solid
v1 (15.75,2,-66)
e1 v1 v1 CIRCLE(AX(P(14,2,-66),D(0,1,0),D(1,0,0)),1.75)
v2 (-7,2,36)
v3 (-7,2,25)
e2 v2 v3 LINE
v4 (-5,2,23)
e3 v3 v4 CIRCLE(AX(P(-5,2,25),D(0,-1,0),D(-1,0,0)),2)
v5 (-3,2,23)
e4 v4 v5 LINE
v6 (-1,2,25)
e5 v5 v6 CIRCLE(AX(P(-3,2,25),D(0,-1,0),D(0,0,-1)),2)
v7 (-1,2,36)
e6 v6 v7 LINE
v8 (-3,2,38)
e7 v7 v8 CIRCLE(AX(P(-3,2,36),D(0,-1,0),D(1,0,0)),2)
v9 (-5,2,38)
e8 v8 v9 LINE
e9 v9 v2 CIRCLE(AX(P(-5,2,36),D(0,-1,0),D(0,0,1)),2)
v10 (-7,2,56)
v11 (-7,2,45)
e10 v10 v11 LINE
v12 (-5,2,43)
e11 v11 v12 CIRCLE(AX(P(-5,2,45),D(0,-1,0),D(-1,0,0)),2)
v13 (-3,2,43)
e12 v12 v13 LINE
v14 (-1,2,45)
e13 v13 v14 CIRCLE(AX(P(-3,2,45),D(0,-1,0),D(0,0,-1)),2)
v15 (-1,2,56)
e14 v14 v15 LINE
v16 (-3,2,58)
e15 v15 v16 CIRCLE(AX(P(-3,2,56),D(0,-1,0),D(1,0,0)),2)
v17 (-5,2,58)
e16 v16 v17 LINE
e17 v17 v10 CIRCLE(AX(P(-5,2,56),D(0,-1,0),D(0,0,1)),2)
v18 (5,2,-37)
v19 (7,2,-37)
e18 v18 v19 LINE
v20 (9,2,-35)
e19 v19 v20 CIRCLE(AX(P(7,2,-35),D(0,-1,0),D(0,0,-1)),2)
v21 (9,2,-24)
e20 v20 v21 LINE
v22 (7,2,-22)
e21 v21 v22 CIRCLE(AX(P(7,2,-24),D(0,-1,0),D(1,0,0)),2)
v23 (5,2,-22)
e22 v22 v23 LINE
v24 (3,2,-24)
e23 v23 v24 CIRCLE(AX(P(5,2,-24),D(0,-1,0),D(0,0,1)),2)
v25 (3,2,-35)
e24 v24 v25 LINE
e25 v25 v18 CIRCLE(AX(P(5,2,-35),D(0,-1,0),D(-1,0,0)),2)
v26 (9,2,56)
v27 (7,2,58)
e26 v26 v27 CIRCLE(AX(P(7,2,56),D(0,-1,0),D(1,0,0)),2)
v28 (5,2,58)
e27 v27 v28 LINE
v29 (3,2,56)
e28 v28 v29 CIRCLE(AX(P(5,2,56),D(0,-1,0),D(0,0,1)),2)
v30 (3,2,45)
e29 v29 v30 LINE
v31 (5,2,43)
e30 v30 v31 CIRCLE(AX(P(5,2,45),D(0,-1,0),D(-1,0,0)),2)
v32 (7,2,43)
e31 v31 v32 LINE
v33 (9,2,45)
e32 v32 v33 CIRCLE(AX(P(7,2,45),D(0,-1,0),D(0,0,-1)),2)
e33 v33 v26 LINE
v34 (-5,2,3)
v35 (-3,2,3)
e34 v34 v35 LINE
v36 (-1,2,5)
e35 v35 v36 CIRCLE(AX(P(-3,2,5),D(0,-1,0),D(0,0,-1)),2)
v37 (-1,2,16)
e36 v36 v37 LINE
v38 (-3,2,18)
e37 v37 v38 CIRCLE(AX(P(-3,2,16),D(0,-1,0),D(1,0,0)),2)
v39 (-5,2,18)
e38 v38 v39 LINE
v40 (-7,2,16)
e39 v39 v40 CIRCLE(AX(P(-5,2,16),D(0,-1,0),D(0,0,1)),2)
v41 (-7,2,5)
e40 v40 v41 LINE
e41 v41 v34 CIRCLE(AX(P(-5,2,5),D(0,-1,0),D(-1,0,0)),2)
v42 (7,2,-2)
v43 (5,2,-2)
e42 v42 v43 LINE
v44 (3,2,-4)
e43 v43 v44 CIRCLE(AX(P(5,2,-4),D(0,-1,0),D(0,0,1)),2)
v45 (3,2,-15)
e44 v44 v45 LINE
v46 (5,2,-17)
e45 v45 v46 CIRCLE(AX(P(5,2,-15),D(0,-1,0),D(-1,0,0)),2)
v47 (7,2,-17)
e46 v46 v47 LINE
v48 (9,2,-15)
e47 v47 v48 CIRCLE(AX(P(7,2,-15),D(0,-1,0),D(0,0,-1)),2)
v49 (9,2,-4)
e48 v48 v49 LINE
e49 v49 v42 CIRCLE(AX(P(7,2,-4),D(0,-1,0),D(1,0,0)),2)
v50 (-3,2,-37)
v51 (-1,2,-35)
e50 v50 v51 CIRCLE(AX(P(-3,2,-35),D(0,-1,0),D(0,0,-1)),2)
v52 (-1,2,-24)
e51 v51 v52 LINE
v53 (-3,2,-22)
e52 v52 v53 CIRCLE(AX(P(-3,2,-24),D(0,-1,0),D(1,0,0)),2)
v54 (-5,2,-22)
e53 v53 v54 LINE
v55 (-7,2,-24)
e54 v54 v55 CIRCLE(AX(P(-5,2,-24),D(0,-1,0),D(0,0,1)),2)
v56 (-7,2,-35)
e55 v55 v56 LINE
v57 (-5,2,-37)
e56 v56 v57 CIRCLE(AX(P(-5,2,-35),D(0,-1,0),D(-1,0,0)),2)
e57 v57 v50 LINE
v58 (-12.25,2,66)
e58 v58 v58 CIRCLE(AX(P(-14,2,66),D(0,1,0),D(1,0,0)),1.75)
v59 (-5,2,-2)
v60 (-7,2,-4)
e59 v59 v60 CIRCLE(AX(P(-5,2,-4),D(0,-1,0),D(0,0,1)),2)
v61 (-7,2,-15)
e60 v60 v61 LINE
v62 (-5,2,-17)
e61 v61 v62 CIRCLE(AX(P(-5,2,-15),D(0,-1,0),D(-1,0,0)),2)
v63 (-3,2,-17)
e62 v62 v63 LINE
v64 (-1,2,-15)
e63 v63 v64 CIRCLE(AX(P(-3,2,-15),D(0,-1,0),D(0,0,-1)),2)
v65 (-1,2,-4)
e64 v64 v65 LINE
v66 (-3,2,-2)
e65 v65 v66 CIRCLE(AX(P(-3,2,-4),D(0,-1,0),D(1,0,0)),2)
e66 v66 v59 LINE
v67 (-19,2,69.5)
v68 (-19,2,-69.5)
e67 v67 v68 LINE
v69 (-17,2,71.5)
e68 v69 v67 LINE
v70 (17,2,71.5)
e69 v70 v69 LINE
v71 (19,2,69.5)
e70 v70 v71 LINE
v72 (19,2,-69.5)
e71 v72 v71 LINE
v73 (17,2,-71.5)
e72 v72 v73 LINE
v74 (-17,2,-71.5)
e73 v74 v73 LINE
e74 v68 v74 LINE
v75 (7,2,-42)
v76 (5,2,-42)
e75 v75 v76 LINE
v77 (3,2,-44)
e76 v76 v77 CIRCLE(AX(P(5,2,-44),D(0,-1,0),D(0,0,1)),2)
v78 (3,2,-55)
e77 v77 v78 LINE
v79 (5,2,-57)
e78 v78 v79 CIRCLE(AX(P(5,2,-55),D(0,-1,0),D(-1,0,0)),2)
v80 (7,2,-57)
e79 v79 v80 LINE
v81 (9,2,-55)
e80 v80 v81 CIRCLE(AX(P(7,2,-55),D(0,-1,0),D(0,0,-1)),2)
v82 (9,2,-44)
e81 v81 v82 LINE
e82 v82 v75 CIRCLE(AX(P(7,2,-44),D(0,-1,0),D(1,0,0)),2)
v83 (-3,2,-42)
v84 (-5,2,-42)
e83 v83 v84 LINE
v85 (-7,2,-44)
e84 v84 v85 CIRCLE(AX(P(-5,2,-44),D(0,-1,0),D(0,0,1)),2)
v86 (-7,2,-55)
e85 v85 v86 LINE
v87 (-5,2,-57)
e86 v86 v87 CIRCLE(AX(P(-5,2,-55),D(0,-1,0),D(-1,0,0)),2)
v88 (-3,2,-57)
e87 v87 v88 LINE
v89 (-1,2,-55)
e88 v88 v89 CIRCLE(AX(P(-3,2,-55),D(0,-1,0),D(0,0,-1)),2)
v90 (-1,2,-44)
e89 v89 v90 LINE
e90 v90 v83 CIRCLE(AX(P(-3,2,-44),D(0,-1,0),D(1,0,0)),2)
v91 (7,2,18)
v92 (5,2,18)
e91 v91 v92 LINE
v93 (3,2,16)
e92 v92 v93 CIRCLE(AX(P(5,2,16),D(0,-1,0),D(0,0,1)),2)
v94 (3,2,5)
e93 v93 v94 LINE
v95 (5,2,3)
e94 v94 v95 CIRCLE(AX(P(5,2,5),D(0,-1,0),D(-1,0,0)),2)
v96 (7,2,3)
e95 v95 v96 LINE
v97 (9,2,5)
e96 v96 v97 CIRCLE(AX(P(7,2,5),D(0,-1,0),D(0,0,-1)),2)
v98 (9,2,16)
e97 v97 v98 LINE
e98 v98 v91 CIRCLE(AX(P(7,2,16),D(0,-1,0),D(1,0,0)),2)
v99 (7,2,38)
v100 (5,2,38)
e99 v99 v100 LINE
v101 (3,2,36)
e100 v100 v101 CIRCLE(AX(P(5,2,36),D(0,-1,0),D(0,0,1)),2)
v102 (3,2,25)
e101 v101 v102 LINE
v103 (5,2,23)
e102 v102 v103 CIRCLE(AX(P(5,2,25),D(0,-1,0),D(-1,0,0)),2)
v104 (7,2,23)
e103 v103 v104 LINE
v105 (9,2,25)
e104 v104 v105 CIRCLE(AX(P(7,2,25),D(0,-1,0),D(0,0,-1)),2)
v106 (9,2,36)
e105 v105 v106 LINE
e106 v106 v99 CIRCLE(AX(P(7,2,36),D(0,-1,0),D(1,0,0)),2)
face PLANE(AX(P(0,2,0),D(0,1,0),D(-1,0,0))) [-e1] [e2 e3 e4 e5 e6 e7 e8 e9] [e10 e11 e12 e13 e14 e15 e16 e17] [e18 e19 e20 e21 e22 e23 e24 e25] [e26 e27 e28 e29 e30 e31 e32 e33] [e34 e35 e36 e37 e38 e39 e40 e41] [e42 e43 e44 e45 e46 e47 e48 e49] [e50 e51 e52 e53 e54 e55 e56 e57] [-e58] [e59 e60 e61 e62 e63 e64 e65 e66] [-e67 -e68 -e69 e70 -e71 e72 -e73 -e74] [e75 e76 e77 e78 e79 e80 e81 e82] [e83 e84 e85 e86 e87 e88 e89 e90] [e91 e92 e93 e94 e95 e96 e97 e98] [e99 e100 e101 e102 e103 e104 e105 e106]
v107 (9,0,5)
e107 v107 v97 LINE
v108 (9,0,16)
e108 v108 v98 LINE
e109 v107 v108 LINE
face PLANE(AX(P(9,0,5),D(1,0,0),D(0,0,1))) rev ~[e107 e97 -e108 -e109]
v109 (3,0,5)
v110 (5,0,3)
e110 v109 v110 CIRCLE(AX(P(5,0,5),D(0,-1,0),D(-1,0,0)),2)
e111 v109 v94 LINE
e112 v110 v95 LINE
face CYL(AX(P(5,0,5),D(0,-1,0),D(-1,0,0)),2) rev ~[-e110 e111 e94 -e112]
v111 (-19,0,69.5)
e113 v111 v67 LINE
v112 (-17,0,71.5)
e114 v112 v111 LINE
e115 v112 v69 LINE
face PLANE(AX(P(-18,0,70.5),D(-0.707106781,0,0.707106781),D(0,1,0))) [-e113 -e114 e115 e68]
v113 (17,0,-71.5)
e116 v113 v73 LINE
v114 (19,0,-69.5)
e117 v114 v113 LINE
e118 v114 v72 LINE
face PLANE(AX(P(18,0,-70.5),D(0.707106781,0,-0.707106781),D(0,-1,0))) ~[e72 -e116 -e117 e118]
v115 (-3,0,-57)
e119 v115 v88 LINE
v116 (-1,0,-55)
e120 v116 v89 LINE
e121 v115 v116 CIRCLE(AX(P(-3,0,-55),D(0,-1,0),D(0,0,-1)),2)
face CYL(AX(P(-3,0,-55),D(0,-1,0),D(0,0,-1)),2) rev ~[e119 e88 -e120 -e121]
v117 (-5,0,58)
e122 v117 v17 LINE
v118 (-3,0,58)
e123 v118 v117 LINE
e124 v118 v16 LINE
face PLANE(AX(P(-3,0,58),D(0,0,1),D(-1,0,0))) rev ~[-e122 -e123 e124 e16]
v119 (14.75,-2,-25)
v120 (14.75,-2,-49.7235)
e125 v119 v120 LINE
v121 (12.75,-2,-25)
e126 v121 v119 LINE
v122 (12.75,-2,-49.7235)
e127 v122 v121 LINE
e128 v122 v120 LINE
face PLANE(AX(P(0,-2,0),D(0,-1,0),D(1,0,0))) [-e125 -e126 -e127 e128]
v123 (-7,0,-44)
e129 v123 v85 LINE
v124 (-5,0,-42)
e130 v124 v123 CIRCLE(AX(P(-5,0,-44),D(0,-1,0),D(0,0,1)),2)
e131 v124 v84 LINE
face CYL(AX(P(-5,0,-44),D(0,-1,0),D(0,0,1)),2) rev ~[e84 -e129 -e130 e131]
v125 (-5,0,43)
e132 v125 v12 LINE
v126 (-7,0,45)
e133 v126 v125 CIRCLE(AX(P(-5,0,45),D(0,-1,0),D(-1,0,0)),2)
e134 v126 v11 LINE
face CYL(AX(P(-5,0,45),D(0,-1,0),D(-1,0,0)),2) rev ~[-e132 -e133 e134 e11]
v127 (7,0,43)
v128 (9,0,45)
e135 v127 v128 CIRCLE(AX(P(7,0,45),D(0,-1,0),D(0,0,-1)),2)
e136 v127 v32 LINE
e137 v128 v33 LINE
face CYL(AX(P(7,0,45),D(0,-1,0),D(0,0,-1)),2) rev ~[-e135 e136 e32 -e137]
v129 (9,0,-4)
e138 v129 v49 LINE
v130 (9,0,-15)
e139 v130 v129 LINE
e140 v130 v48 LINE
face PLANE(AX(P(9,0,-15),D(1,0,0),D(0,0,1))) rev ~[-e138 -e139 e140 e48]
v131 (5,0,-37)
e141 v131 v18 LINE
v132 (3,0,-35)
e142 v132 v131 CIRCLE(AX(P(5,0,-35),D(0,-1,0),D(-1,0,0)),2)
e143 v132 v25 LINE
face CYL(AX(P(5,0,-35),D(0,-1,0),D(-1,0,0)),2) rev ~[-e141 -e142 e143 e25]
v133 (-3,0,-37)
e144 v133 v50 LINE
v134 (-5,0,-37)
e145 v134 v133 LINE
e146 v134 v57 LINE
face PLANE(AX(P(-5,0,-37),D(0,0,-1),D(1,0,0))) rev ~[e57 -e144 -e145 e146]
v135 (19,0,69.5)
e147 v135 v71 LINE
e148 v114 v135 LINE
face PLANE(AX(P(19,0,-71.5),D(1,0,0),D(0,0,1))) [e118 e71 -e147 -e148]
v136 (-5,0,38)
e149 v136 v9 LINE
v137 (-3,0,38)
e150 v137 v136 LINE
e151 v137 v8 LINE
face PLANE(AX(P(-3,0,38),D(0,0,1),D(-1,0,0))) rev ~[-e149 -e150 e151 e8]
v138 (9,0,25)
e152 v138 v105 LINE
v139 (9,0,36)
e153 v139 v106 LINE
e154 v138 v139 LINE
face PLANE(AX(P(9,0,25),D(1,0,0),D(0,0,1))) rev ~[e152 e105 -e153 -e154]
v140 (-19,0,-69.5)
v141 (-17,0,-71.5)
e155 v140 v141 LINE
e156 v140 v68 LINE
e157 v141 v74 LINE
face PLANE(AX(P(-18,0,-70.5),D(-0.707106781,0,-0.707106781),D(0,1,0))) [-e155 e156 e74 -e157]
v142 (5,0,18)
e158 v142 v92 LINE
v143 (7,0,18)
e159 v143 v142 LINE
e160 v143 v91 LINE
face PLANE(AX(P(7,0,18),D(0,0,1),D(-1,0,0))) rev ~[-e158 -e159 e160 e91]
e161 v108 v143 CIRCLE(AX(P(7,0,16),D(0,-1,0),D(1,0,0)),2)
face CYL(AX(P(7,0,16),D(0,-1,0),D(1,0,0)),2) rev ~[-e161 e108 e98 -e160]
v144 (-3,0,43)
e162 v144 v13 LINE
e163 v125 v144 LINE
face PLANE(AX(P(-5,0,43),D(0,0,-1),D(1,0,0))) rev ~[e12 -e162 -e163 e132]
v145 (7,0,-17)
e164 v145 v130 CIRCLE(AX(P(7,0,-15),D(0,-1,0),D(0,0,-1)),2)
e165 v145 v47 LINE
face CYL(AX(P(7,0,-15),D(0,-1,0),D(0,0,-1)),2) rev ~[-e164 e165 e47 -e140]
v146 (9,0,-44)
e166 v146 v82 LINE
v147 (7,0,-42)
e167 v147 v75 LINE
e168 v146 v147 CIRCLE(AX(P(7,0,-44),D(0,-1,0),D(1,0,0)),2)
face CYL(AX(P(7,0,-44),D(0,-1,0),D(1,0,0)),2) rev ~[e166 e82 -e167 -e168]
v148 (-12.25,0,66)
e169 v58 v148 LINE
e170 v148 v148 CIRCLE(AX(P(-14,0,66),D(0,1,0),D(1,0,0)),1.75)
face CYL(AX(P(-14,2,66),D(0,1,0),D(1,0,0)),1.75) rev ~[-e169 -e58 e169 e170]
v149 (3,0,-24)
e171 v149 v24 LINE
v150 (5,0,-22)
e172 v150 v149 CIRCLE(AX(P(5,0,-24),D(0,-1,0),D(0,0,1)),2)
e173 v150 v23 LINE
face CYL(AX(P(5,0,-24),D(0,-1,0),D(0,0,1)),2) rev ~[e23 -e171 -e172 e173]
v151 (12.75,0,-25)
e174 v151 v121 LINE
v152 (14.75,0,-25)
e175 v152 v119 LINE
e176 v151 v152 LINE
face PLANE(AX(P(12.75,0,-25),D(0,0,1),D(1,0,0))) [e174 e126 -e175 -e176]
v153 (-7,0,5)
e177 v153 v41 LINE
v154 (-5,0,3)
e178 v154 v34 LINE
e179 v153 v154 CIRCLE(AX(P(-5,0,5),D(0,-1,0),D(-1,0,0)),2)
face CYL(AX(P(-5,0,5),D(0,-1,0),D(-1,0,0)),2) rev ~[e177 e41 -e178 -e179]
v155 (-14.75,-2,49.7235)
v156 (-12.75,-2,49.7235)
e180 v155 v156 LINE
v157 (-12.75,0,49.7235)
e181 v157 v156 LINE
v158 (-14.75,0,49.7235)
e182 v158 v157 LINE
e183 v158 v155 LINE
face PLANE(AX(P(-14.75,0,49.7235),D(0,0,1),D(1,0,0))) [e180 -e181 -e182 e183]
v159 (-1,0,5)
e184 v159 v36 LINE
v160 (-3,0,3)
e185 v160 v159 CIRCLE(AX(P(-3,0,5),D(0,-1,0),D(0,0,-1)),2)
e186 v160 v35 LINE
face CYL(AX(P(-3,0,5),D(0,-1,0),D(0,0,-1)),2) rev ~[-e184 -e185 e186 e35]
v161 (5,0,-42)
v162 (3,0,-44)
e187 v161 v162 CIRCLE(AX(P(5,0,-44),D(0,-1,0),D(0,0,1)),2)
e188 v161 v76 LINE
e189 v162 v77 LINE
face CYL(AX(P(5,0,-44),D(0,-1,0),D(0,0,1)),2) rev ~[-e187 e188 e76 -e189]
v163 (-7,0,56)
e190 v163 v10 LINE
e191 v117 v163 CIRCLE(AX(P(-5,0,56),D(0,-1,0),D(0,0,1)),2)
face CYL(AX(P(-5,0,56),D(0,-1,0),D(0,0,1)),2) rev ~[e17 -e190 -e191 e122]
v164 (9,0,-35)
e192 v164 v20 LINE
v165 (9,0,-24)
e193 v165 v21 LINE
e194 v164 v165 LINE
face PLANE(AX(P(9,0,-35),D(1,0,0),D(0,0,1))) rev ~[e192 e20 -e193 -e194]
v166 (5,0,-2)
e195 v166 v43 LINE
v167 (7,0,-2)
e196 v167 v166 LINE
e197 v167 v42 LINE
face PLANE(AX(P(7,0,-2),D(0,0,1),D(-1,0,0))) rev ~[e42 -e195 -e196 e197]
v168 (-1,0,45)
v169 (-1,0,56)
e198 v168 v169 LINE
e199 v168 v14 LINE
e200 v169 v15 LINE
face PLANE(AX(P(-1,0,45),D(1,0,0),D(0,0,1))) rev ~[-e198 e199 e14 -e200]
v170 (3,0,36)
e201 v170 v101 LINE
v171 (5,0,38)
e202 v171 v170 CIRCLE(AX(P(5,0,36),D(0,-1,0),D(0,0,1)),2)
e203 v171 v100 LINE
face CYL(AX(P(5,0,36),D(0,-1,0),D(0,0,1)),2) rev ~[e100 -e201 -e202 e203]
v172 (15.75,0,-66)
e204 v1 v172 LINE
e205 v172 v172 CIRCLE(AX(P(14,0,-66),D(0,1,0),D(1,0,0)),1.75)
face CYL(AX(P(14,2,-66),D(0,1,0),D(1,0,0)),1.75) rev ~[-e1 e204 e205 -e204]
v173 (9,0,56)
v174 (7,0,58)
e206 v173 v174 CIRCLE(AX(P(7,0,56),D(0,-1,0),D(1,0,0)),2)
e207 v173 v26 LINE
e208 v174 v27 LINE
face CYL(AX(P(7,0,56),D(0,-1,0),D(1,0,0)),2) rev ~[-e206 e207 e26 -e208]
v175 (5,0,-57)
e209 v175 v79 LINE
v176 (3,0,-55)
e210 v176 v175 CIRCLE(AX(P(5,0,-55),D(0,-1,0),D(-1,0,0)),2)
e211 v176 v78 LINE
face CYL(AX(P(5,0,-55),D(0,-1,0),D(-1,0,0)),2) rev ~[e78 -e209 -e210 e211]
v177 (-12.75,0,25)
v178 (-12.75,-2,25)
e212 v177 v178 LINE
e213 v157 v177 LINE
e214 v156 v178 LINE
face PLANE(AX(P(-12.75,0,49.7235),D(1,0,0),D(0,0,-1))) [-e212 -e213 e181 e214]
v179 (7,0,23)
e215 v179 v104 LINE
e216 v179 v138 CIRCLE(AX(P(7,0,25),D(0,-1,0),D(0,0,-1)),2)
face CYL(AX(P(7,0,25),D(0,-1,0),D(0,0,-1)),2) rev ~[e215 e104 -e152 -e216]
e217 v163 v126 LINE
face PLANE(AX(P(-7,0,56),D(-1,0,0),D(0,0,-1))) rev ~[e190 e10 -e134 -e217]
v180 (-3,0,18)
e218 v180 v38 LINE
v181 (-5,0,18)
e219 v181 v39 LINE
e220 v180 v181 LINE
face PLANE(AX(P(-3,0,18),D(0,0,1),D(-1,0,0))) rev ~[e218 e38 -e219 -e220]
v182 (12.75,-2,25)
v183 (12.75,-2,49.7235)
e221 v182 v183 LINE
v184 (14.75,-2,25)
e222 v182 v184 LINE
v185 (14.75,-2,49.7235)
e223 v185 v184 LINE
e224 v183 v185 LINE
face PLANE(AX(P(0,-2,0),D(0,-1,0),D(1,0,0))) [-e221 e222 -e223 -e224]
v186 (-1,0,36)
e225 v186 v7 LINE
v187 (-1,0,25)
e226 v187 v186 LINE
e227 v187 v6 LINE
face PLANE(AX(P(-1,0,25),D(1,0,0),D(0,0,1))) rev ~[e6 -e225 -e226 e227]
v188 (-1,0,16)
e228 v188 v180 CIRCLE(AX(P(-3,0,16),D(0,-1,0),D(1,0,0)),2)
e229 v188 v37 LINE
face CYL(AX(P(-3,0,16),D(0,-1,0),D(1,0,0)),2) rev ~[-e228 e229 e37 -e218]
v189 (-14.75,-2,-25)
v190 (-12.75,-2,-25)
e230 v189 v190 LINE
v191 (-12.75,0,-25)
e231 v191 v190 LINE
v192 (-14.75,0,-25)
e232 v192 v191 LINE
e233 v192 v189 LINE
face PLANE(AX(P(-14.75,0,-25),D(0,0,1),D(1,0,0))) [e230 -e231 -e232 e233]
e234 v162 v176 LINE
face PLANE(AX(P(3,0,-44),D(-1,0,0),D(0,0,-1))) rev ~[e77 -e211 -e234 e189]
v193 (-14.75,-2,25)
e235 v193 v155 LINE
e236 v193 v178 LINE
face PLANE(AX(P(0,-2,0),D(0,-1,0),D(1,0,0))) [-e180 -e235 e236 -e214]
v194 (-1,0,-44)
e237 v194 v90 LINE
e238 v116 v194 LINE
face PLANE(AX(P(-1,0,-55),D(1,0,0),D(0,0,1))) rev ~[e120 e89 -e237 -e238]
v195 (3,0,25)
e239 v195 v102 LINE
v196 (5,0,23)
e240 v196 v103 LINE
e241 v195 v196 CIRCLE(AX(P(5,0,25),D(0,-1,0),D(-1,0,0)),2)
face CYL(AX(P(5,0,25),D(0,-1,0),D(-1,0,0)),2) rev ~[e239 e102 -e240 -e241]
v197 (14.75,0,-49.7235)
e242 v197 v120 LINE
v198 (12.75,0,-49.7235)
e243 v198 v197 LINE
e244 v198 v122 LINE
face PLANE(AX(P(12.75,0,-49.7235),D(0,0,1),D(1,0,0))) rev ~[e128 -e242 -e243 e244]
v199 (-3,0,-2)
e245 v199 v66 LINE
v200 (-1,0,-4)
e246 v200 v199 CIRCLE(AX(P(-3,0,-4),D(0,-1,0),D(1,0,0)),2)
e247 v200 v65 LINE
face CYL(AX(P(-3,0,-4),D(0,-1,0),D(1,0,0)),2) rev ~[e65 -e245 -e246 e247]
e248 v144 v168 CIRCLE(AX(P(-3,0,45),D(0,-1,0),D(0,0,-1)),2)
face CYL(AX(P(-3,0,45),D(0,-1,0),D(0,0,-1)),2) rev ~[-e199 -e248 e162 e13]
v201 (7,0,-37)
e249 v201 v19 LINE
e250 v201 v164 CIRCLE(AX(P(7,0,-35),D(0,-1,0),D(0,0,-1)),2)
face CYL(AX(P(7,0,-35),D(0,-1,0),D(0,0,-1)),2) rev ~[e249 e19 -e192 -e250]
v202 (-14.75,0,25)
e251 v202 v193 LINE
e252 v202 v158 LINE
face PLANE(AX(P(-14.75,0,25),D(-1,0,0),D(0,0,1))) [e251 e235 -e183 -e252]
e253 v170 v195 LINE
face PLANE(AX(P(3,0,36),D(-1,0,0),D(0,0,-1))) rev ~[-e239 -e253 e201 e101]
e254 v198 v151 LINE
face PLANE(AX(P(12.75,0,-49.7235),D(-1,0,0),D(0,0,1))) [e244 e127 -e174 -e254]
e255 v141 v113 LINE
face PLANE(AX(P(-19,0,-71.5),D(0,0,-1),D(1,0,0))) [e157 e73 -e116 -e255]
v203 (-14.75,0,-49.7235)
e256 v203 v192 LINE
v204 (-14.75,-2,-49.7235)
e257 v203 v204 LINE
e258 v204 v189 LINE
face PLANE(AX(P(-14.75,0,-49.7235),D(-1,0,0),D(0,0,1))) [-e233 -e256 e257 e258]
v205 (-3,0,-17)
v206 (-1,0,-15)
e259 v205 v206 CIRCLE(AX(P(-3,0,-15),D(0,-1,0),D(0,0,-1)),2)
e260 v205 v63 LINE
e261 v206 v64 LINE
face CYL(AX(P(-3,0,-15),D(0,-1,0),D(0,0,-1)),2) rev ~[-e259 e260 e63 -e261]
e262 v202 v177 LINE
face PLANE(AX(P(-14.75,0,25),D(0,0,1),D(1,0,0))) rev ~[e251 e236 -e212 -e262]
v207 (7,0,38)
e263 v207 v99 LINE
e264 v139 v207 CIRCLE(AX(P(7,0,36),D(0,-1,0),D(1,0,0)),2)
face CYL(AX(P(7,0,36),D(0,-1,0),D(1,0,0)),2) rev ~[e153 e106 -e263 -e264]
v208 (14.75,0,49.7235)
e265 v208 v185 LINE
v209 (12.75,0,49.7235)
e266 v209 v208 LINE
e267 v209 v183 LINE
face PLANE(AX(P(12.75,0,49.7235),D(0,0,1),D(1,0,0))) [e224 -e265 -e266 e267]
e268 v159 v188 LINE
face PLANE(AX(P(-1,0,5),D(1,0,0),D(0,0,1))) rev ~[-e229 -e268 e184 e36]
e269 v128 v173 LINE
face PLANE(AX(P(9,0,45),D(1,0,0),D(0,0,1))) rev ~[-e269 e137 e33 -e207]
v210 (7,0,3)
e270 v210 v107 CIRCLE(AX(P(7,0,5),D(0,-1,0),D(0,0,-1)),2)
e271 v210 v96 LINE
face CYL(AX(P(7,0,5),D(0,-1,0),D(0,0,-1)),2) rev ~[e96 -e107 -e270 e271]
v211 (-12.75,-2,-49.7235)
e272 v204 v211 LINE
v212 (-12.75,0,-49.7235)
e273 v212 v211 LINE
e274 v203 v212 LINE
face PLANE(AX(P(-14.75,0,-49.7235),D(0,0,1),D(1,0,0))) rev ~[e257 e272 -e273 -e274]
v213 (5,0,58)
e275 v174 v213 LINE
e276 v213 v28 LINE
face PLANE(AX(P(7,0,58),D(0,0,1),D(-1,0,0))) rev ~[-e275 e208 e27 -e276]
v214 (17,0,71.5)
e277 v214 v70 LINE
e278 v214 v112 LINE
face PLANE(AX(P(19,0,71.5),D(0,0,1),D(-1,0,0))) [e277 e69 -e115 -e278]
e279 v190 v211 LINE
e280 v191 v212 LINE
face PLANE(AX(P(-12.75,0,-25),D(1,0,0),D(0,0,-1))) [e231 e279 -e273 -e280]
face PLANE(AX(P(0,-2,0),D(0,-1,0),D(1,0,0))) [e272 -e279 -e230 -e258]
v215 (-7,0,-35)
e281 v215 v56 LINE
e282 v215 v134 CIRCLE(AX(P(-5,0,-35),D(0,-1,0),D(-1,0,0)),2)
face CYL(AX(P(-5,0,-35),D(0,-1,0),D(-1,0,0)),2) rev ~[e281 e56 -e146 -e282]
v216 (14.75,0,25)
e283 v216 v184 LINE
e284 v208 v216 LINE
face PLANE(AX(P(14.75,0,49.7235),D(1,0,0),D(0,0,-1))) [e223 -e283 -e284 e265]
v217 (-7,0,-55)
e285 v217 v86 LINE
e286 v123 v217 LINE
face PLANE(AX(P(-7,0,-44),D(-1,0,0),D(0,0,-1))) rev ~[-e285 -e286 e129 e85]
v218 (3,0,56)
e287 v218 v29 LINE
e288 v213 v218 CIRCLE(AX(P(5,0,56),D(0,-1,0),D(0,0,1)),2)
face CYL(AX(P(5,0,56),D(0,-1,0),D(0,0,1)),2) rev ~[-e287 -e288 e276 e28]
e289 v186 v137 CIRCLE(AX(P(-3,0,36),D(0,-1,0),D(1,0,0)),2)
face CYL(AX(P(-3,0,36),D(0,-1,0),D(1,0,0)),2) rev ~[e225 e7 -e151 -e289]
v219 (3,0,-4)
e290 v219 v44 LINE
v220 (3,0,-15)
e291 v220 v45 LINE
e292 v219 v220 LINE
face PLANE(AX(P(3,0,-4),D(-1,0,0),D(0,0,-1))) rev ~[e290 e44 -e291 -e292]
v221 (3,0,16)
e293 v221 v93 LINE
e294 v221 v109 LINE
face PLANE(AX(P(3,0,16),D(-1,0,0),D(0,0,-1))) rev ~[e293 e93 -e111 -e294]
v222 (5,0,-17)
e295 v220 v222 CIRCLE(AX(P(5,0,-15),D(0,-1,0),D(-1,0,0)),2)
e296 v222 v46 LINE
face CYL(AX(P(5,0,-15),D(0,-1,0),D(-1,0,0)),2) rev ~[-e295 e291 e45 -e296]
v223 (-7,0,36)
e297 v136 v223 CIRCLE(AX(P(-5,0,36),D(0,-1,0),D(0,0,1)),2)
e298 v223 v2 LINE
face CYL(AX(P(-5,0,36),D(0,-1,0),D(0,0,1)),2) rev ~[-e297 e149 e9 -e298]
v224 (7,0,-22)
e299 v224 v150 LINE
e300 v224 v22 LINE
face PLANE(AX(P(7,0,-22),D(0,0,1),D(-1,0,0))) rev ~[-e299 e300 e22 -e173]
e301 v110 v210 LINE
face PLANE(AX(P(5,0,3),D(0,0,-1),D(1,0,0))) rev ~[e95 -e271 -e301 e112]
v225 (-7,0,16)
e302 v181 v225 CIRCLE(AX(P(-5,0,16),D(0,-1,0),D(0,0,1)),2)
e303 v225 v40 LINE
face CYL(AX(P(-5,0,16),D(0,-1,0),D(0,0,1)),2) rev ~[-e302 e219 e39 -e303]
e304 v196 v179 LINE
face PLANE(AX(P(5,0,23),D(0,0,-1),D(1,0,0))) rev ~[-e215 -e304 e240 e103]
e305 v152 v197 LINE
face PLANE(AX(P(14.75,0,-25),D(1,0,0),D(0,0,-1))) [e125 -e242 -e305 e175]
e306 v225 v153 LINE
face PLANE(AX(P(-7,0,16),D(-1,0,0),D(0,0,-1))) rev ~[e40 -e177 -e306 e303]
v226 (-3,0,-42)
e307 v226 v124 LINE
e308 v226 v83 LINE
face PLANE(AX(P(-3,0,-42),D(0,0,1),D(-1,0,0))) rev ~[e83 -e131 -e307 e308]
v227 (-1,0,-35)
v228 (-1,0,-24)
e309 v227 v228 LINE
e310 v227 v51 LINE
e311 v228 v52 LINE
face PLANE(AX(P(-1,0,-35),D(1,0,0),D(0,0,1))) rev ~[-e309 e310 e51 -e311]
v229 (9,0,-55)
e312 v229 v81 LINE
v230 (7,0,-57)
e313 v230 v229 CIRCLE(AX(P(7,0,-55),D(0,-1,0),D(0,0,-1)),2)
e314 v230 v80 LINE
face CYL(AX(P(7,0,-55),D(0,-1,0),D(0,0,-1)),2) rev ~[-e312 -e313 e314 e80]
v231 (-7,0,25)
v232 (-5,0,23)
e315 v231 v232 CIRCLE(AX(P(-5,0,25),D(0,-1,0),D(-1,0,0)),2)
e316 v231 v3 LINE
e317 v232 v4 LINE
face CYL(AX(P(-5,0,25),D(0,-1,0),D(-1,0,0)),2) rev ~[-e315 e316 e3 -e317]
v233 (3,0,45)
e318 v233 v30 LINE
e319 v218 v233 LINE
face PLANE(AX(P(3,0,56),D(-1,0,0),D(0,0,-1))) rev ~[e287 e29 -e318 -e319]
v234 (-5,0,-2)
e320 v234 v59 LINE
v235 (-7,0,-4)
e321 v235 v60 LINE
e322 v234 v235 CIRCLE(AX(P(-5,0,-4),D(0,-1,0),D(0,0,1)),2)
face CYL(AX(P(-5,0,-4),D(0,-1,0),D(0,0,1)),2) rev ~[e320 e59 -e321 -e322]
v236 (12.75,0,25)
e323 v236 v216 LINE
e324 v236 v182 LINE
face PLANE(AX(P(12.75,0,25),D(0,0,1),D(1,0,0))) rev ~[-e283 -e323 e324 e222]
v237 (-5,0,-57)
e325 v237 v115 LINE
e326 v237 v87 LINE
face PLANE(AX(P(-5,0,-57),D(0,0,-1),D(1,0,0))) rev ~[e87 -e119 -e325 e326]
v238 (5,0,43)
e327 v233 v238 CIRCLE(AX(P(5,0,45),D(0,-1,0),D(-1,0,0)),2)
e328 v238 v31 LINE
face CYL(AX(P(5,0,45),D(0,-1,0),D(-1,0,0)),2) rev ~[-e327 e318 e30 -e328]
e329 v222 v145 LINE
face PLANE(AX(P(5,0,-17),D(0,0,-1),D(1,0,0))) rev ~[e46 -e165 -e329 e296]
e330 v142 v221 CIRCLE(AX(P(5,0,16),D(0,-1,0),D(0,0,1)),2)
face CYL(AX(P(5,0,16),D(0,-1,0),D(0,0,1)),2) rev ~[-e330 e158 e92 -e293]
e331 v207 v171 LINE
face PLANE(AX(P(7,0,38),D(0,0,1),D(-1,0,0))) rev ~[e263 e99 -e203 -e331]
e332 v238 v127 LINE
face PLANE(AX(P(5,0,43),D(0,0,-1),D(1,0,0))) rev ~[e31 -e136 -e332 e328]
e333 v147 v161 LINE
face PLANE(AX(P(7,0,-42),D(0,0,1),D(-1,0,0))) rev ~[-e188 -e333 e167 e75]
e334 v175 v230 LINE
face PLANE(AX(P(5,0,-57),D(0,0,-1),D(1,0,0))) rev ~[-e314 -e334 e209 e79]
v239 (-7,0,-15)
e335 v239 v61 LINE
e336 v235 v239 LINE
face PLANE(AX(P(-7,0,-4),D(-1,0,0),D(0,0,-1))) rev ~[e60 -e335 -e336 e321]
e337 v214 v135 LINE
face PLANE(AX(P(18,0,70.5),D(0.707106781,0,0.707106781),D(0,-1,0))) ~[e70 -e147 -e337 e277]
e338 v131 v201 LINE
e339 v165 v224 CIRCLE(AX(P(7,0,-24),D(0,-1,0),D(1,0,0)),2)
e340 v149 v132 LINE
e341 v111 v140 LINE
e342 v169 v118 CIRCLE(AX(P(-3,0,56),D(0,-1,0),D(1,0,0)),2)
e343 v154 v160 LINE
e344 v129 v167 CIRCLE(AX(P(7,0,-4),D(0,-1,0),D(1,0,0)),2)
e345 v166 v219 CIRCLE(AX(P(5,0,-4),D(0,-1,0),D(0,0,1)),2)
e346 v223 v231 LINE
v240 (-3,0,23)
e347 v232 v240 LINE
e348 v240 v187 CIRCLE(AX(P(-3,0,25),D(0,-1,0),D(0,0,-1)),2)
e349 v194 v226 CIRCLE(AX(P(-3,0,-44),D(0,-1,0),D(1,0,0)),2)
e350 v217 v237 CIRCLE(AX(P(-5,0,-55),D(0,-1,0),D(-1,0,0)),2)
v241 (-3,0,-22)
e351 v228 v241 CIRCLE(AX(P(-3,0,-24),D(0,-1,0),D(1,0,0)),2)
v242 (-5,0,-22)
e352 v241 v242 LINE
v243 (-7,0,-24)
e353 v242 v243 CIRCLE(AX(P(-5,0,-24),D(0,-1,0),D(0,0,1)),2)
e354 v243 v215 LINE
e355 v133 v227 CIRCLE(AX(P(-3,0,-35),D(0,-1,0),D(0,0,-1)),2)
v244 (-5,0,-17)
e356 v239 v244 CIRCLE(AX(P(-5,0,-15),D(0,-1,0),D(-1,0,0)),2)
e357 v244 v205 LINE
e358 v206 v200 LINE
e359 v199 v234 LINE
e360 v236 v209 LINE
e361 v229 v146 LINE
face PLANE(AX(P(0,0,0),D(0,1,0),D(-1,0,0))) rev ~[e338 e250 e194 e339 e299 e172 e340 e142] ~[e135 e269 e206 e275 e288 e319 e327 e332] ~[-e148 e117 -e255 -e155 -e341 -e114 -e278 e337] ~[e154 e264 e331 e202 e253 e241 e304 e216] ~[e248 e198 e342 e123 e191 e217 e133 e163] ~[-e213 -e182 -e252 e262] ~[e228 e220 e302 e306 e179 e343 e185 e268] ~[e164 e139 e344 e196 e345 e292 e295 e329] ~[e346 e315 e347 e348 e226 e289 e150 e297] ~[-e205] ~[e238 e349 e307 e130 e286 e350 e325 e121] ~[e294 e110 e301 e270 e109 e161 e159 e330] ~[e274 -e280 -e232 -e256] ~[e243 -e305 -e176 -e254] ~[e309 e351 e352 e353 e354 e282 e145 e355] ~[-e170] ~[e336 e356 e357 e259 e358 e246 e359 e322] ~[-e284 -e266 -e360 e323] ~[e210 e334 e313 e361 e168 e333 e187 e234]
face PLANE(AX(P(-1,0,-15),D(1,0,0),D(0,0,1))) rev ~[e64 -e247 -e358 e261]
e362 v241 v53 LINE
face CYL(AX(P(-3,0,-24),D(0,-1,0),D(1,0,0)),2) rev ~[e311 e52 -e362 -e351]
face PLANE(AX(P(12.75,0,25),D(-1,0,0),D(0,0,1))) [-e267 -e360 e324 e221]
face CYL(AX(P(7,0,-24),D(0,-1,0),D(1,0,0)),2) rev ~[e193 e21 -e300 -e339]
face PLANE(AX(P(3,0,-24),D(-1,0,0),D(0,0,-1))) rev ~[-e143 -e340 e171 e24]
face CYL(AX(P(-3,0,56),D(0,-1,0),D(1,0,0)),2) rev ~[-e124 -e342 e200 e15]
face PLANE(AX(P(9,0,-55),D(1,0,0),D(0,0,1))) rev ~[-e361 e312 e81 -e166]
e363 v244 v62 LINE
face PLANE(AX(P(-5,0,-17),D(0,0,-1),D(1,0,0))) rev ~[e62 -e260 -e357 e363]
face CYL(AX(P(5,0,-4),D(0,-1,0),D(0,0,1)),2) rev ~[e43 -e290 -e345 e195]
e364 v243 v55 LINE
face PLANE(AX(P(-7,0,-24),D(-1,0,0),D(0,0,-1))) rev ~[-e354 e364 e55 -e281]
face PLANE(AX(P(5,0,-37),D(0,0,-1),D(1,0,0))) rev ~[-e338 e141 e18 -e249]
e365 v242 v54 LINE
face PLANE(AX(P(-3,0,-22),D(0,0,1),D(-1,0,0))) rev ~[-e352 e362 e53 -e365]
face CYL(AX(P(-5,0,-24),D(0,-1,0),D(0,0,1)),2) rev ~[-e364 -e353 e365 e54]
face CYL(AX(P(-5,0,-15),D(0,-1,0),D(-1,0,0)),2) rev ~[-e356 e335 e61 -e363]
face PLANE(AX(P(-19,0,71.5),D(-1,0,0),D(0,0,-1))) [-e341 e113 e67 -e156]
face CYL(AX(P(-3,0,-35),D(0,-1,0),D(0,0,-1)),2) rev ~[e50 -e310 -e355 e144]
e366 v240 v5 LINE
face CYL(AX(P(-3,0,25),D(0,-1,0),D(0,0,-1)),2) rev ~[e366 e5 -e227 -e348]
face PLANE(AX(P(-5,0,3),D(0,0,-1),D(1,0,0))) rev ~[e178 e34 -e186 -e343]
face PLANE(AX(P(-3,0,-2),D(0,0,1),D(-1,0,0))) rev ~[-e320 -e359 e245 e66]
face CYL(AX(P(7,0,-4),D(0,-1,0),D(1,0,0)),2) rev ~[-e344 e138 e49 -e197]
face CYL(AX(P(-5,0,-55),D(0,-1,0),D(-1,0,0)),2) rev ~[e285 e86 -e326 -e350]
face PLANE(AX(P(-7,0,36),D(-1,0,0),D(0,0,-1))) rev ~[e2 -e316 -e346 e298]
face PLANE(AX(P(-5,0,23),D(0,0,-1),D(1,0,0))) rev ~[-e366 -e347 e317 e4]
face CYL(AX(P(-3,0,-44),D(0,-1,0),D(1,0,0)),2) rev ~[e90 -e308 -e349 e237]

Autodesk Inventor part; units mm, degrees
ref_plane "YZ Plane" through (0, 0, 0) normal (1, 0, 0) x (0, 1, 0)
ref_plane "XZ Plane" through (0, 0, 0) normal (0, 1, 0) x (-1, 0, 0)
ref_plane "XY Plane" through (0, 0, 0) normal (0, 0, 1) x (1, 0, 0)
sketch "Sketch1" plane through (0, 0, 0) normal (0, 1, 0) x (-1, 0, 0)
  line L0 (-19, 71.5) -> (19, 71.5)
  line L1 (19, 71.5) -> (19, -71.5)
  line L2 (19, -71.5) -> (-19, -71.5)
  line L3 (-19, -71.5) -> (-19, 71.5)
  line L4 (-19, 71.5) -> (19, -71.5) construction
  line L5 (19, 71.5) -> (-19, -71.5) construction
  point P0 (0, 0)
  dimension "d0" = 38
  dimension "d1" = 143
extrude "Extrusion1" add sketch "Sketch1" along normal blind 2
sketch "Sketch2" plane through (0, 2, 0) normal (0, 1, 0) x (1, 0, 0)
  line L0 (-19, -71.5) -> (-19, -66) construction
  line L1 (-19, -66) -> (-14, -66) construction
  line L2 (-19, -66) -> (-14, -66) construction
  line L3 (19, 71.5) -> (-19, 71.5) construction
  line L4 (19, 71.5) -> (19, 66) construction
  line L5 (19, 66) -> (14, 66) construction
  line L6 (19, 66) -> (24, 66) construction
  circle A0 centre (14, 66) radius 1.75
  circle A1 centre (-14, -66) radius 1.75
  point P0 (0, 0)
  dimension "d4" = 5.5
  dimension "d7" = 5
  dimension "d8" = 0
  dimension "d9" = 5.5
  dimension "d12" = 180
  dimension "d13" = 3.5
  dimension "d14" = 3.5
extrude "Extrusion2" cut sketch "Sketch2" against normal blind 14.75
sketch "Sketch3" plane through (0, 0, 0) normal (0, -1, 0) x (1, 0, 0)
  line L0 (-14.75, 51.7235) -> (14.75, 51.7235)
  line L1 (14.75, 51.7235) -> (14.75, -51.7235)
  line L2 (14.75, -51.7235) -> (-14.75, -51.7235)
  line L3 (-14.75, -51.7235) -> (-14.75, 51.7235)
  line L4 (-14.75, 51.7235) -> (14.75, -51.7235) construction
  line L5 (14.75, 51.7235) -> (-14.75, -51.7235) construction
  line L6 (12.75, -49.7235) -> (12.75, 49.7235)
  line L7 (12.75, 49.7235) -> (-12.75, 49.7235)
  line L8 (-12.75, 49.7235) -> (-12.75, -49.7235)
  line L9 (-12.75, -49.7235) -> (12.75, -49.7235)
  line L10 (-14.75, 49.7235) -> (14.75, 49.7235)
  line L11 (-14.75, -49.7235) -> (14.75, -49.7235)
  line L12 (-14.75, 0) -> (-14.75, -25)
  line L13 (-14.75, -25) -> (14.75, -25)
  line L14 (-14.75, 0) -> (-14.75, 25)
  line L15 (-14.75, 25) -> (14.75, 25)
  point P0 (0, 0)
  point P1 (-12.75, -25)
  point P2 (12.75, -25)
  point P3 (12.75, 25)
  point P4 (-12.75, 25)
  dimension "d17" = 29.5
  dimension "d18" = 2
  dimension "d19" = 25
  dimension "d20" = 25
extrude "Extrusion3" add sketch "Sketch3" along normal blind 2 contours L10 L8 L15 L3 | L1 L15 L6 L10 | L1 L11 L6 L13 | L13 L8 L11 L3
sketch "Sketch4" plane through (0, 0, 0) normal (0, -1, 0) x (1, 0, 0)
  line L0 (-19, 71.5) -> (19, 71.5) construction
  line L1 (0, 71.5) -> (0, -71.5) construction
  line L2 (19, -71.5) -> (-19, -71.5) construction
  line L3 (3, 16) -> (3, 5) construction
  line L4 (-3, 71.5) -> (-3, -71.5) construction
  line L5 (-9, 71.5) -> (-9, -71.5) construction
  line L6 (9, 16) -> (9, -71.5) construction
  line L7 (19, 71.5) -> (19, -71.5) construction
  line L8 (19, 0) -> (-19, 0) construction
  line L9 (19, 3) -> (5, 3) construction
  line L10 (3, 3) -> (7, 3)
  line L11 (9, 5) -> (9, 18)
  line L12 (7, 18) -> (5, 18)
  line L13 (3, 18) -> (3, 3)
  arc A0 (5, 18) -> (3, 16) centre (5, 16) ccw
  arc A1 (9, 16) -> (7, 18) centre (7, 16) ccw
  arc A2 (7, 3) -> (9, 5) centre (7, 5) ccw
  arc A3 (3, 5) -> (5, 3) centre (5, 5) ccw
  point P0 (0, 0)
  point P1 (9, 3)
  dimension "d23" = 3
  dimension "d24" = 3
  dimension "d25" = 6
  dimension "d26" = 6
  dimension "d27" = 3
  dimension "d28" = 15
  dimension "d29" = 2
extrude "Extrusion4" cut sketch "Sketch4" against normal blind 2 contours A3 L13 A0 L12 A1 L11 A2 L10
pattern_linear "Rectangular Pattern1" count 4 spacing 20 along (0, 0, -1) count 2 spacing 10 along (-1, 0, 0) of "Extrusion4"
pattern_linear "Rectangular Pattern2" count 3 spacing 20 along (0, 0, 1) count 2 spacing 10 along (-1, 0, 0) of "Extrusion4"
chamfer "Chamfer1" distance 2 angle 45 4 edges at (19, 1, -71.5) (-19, 1, -71.5) (-19, 1, 71.5) (19, 1, 71.5)
properties part number "battery case Lid"
